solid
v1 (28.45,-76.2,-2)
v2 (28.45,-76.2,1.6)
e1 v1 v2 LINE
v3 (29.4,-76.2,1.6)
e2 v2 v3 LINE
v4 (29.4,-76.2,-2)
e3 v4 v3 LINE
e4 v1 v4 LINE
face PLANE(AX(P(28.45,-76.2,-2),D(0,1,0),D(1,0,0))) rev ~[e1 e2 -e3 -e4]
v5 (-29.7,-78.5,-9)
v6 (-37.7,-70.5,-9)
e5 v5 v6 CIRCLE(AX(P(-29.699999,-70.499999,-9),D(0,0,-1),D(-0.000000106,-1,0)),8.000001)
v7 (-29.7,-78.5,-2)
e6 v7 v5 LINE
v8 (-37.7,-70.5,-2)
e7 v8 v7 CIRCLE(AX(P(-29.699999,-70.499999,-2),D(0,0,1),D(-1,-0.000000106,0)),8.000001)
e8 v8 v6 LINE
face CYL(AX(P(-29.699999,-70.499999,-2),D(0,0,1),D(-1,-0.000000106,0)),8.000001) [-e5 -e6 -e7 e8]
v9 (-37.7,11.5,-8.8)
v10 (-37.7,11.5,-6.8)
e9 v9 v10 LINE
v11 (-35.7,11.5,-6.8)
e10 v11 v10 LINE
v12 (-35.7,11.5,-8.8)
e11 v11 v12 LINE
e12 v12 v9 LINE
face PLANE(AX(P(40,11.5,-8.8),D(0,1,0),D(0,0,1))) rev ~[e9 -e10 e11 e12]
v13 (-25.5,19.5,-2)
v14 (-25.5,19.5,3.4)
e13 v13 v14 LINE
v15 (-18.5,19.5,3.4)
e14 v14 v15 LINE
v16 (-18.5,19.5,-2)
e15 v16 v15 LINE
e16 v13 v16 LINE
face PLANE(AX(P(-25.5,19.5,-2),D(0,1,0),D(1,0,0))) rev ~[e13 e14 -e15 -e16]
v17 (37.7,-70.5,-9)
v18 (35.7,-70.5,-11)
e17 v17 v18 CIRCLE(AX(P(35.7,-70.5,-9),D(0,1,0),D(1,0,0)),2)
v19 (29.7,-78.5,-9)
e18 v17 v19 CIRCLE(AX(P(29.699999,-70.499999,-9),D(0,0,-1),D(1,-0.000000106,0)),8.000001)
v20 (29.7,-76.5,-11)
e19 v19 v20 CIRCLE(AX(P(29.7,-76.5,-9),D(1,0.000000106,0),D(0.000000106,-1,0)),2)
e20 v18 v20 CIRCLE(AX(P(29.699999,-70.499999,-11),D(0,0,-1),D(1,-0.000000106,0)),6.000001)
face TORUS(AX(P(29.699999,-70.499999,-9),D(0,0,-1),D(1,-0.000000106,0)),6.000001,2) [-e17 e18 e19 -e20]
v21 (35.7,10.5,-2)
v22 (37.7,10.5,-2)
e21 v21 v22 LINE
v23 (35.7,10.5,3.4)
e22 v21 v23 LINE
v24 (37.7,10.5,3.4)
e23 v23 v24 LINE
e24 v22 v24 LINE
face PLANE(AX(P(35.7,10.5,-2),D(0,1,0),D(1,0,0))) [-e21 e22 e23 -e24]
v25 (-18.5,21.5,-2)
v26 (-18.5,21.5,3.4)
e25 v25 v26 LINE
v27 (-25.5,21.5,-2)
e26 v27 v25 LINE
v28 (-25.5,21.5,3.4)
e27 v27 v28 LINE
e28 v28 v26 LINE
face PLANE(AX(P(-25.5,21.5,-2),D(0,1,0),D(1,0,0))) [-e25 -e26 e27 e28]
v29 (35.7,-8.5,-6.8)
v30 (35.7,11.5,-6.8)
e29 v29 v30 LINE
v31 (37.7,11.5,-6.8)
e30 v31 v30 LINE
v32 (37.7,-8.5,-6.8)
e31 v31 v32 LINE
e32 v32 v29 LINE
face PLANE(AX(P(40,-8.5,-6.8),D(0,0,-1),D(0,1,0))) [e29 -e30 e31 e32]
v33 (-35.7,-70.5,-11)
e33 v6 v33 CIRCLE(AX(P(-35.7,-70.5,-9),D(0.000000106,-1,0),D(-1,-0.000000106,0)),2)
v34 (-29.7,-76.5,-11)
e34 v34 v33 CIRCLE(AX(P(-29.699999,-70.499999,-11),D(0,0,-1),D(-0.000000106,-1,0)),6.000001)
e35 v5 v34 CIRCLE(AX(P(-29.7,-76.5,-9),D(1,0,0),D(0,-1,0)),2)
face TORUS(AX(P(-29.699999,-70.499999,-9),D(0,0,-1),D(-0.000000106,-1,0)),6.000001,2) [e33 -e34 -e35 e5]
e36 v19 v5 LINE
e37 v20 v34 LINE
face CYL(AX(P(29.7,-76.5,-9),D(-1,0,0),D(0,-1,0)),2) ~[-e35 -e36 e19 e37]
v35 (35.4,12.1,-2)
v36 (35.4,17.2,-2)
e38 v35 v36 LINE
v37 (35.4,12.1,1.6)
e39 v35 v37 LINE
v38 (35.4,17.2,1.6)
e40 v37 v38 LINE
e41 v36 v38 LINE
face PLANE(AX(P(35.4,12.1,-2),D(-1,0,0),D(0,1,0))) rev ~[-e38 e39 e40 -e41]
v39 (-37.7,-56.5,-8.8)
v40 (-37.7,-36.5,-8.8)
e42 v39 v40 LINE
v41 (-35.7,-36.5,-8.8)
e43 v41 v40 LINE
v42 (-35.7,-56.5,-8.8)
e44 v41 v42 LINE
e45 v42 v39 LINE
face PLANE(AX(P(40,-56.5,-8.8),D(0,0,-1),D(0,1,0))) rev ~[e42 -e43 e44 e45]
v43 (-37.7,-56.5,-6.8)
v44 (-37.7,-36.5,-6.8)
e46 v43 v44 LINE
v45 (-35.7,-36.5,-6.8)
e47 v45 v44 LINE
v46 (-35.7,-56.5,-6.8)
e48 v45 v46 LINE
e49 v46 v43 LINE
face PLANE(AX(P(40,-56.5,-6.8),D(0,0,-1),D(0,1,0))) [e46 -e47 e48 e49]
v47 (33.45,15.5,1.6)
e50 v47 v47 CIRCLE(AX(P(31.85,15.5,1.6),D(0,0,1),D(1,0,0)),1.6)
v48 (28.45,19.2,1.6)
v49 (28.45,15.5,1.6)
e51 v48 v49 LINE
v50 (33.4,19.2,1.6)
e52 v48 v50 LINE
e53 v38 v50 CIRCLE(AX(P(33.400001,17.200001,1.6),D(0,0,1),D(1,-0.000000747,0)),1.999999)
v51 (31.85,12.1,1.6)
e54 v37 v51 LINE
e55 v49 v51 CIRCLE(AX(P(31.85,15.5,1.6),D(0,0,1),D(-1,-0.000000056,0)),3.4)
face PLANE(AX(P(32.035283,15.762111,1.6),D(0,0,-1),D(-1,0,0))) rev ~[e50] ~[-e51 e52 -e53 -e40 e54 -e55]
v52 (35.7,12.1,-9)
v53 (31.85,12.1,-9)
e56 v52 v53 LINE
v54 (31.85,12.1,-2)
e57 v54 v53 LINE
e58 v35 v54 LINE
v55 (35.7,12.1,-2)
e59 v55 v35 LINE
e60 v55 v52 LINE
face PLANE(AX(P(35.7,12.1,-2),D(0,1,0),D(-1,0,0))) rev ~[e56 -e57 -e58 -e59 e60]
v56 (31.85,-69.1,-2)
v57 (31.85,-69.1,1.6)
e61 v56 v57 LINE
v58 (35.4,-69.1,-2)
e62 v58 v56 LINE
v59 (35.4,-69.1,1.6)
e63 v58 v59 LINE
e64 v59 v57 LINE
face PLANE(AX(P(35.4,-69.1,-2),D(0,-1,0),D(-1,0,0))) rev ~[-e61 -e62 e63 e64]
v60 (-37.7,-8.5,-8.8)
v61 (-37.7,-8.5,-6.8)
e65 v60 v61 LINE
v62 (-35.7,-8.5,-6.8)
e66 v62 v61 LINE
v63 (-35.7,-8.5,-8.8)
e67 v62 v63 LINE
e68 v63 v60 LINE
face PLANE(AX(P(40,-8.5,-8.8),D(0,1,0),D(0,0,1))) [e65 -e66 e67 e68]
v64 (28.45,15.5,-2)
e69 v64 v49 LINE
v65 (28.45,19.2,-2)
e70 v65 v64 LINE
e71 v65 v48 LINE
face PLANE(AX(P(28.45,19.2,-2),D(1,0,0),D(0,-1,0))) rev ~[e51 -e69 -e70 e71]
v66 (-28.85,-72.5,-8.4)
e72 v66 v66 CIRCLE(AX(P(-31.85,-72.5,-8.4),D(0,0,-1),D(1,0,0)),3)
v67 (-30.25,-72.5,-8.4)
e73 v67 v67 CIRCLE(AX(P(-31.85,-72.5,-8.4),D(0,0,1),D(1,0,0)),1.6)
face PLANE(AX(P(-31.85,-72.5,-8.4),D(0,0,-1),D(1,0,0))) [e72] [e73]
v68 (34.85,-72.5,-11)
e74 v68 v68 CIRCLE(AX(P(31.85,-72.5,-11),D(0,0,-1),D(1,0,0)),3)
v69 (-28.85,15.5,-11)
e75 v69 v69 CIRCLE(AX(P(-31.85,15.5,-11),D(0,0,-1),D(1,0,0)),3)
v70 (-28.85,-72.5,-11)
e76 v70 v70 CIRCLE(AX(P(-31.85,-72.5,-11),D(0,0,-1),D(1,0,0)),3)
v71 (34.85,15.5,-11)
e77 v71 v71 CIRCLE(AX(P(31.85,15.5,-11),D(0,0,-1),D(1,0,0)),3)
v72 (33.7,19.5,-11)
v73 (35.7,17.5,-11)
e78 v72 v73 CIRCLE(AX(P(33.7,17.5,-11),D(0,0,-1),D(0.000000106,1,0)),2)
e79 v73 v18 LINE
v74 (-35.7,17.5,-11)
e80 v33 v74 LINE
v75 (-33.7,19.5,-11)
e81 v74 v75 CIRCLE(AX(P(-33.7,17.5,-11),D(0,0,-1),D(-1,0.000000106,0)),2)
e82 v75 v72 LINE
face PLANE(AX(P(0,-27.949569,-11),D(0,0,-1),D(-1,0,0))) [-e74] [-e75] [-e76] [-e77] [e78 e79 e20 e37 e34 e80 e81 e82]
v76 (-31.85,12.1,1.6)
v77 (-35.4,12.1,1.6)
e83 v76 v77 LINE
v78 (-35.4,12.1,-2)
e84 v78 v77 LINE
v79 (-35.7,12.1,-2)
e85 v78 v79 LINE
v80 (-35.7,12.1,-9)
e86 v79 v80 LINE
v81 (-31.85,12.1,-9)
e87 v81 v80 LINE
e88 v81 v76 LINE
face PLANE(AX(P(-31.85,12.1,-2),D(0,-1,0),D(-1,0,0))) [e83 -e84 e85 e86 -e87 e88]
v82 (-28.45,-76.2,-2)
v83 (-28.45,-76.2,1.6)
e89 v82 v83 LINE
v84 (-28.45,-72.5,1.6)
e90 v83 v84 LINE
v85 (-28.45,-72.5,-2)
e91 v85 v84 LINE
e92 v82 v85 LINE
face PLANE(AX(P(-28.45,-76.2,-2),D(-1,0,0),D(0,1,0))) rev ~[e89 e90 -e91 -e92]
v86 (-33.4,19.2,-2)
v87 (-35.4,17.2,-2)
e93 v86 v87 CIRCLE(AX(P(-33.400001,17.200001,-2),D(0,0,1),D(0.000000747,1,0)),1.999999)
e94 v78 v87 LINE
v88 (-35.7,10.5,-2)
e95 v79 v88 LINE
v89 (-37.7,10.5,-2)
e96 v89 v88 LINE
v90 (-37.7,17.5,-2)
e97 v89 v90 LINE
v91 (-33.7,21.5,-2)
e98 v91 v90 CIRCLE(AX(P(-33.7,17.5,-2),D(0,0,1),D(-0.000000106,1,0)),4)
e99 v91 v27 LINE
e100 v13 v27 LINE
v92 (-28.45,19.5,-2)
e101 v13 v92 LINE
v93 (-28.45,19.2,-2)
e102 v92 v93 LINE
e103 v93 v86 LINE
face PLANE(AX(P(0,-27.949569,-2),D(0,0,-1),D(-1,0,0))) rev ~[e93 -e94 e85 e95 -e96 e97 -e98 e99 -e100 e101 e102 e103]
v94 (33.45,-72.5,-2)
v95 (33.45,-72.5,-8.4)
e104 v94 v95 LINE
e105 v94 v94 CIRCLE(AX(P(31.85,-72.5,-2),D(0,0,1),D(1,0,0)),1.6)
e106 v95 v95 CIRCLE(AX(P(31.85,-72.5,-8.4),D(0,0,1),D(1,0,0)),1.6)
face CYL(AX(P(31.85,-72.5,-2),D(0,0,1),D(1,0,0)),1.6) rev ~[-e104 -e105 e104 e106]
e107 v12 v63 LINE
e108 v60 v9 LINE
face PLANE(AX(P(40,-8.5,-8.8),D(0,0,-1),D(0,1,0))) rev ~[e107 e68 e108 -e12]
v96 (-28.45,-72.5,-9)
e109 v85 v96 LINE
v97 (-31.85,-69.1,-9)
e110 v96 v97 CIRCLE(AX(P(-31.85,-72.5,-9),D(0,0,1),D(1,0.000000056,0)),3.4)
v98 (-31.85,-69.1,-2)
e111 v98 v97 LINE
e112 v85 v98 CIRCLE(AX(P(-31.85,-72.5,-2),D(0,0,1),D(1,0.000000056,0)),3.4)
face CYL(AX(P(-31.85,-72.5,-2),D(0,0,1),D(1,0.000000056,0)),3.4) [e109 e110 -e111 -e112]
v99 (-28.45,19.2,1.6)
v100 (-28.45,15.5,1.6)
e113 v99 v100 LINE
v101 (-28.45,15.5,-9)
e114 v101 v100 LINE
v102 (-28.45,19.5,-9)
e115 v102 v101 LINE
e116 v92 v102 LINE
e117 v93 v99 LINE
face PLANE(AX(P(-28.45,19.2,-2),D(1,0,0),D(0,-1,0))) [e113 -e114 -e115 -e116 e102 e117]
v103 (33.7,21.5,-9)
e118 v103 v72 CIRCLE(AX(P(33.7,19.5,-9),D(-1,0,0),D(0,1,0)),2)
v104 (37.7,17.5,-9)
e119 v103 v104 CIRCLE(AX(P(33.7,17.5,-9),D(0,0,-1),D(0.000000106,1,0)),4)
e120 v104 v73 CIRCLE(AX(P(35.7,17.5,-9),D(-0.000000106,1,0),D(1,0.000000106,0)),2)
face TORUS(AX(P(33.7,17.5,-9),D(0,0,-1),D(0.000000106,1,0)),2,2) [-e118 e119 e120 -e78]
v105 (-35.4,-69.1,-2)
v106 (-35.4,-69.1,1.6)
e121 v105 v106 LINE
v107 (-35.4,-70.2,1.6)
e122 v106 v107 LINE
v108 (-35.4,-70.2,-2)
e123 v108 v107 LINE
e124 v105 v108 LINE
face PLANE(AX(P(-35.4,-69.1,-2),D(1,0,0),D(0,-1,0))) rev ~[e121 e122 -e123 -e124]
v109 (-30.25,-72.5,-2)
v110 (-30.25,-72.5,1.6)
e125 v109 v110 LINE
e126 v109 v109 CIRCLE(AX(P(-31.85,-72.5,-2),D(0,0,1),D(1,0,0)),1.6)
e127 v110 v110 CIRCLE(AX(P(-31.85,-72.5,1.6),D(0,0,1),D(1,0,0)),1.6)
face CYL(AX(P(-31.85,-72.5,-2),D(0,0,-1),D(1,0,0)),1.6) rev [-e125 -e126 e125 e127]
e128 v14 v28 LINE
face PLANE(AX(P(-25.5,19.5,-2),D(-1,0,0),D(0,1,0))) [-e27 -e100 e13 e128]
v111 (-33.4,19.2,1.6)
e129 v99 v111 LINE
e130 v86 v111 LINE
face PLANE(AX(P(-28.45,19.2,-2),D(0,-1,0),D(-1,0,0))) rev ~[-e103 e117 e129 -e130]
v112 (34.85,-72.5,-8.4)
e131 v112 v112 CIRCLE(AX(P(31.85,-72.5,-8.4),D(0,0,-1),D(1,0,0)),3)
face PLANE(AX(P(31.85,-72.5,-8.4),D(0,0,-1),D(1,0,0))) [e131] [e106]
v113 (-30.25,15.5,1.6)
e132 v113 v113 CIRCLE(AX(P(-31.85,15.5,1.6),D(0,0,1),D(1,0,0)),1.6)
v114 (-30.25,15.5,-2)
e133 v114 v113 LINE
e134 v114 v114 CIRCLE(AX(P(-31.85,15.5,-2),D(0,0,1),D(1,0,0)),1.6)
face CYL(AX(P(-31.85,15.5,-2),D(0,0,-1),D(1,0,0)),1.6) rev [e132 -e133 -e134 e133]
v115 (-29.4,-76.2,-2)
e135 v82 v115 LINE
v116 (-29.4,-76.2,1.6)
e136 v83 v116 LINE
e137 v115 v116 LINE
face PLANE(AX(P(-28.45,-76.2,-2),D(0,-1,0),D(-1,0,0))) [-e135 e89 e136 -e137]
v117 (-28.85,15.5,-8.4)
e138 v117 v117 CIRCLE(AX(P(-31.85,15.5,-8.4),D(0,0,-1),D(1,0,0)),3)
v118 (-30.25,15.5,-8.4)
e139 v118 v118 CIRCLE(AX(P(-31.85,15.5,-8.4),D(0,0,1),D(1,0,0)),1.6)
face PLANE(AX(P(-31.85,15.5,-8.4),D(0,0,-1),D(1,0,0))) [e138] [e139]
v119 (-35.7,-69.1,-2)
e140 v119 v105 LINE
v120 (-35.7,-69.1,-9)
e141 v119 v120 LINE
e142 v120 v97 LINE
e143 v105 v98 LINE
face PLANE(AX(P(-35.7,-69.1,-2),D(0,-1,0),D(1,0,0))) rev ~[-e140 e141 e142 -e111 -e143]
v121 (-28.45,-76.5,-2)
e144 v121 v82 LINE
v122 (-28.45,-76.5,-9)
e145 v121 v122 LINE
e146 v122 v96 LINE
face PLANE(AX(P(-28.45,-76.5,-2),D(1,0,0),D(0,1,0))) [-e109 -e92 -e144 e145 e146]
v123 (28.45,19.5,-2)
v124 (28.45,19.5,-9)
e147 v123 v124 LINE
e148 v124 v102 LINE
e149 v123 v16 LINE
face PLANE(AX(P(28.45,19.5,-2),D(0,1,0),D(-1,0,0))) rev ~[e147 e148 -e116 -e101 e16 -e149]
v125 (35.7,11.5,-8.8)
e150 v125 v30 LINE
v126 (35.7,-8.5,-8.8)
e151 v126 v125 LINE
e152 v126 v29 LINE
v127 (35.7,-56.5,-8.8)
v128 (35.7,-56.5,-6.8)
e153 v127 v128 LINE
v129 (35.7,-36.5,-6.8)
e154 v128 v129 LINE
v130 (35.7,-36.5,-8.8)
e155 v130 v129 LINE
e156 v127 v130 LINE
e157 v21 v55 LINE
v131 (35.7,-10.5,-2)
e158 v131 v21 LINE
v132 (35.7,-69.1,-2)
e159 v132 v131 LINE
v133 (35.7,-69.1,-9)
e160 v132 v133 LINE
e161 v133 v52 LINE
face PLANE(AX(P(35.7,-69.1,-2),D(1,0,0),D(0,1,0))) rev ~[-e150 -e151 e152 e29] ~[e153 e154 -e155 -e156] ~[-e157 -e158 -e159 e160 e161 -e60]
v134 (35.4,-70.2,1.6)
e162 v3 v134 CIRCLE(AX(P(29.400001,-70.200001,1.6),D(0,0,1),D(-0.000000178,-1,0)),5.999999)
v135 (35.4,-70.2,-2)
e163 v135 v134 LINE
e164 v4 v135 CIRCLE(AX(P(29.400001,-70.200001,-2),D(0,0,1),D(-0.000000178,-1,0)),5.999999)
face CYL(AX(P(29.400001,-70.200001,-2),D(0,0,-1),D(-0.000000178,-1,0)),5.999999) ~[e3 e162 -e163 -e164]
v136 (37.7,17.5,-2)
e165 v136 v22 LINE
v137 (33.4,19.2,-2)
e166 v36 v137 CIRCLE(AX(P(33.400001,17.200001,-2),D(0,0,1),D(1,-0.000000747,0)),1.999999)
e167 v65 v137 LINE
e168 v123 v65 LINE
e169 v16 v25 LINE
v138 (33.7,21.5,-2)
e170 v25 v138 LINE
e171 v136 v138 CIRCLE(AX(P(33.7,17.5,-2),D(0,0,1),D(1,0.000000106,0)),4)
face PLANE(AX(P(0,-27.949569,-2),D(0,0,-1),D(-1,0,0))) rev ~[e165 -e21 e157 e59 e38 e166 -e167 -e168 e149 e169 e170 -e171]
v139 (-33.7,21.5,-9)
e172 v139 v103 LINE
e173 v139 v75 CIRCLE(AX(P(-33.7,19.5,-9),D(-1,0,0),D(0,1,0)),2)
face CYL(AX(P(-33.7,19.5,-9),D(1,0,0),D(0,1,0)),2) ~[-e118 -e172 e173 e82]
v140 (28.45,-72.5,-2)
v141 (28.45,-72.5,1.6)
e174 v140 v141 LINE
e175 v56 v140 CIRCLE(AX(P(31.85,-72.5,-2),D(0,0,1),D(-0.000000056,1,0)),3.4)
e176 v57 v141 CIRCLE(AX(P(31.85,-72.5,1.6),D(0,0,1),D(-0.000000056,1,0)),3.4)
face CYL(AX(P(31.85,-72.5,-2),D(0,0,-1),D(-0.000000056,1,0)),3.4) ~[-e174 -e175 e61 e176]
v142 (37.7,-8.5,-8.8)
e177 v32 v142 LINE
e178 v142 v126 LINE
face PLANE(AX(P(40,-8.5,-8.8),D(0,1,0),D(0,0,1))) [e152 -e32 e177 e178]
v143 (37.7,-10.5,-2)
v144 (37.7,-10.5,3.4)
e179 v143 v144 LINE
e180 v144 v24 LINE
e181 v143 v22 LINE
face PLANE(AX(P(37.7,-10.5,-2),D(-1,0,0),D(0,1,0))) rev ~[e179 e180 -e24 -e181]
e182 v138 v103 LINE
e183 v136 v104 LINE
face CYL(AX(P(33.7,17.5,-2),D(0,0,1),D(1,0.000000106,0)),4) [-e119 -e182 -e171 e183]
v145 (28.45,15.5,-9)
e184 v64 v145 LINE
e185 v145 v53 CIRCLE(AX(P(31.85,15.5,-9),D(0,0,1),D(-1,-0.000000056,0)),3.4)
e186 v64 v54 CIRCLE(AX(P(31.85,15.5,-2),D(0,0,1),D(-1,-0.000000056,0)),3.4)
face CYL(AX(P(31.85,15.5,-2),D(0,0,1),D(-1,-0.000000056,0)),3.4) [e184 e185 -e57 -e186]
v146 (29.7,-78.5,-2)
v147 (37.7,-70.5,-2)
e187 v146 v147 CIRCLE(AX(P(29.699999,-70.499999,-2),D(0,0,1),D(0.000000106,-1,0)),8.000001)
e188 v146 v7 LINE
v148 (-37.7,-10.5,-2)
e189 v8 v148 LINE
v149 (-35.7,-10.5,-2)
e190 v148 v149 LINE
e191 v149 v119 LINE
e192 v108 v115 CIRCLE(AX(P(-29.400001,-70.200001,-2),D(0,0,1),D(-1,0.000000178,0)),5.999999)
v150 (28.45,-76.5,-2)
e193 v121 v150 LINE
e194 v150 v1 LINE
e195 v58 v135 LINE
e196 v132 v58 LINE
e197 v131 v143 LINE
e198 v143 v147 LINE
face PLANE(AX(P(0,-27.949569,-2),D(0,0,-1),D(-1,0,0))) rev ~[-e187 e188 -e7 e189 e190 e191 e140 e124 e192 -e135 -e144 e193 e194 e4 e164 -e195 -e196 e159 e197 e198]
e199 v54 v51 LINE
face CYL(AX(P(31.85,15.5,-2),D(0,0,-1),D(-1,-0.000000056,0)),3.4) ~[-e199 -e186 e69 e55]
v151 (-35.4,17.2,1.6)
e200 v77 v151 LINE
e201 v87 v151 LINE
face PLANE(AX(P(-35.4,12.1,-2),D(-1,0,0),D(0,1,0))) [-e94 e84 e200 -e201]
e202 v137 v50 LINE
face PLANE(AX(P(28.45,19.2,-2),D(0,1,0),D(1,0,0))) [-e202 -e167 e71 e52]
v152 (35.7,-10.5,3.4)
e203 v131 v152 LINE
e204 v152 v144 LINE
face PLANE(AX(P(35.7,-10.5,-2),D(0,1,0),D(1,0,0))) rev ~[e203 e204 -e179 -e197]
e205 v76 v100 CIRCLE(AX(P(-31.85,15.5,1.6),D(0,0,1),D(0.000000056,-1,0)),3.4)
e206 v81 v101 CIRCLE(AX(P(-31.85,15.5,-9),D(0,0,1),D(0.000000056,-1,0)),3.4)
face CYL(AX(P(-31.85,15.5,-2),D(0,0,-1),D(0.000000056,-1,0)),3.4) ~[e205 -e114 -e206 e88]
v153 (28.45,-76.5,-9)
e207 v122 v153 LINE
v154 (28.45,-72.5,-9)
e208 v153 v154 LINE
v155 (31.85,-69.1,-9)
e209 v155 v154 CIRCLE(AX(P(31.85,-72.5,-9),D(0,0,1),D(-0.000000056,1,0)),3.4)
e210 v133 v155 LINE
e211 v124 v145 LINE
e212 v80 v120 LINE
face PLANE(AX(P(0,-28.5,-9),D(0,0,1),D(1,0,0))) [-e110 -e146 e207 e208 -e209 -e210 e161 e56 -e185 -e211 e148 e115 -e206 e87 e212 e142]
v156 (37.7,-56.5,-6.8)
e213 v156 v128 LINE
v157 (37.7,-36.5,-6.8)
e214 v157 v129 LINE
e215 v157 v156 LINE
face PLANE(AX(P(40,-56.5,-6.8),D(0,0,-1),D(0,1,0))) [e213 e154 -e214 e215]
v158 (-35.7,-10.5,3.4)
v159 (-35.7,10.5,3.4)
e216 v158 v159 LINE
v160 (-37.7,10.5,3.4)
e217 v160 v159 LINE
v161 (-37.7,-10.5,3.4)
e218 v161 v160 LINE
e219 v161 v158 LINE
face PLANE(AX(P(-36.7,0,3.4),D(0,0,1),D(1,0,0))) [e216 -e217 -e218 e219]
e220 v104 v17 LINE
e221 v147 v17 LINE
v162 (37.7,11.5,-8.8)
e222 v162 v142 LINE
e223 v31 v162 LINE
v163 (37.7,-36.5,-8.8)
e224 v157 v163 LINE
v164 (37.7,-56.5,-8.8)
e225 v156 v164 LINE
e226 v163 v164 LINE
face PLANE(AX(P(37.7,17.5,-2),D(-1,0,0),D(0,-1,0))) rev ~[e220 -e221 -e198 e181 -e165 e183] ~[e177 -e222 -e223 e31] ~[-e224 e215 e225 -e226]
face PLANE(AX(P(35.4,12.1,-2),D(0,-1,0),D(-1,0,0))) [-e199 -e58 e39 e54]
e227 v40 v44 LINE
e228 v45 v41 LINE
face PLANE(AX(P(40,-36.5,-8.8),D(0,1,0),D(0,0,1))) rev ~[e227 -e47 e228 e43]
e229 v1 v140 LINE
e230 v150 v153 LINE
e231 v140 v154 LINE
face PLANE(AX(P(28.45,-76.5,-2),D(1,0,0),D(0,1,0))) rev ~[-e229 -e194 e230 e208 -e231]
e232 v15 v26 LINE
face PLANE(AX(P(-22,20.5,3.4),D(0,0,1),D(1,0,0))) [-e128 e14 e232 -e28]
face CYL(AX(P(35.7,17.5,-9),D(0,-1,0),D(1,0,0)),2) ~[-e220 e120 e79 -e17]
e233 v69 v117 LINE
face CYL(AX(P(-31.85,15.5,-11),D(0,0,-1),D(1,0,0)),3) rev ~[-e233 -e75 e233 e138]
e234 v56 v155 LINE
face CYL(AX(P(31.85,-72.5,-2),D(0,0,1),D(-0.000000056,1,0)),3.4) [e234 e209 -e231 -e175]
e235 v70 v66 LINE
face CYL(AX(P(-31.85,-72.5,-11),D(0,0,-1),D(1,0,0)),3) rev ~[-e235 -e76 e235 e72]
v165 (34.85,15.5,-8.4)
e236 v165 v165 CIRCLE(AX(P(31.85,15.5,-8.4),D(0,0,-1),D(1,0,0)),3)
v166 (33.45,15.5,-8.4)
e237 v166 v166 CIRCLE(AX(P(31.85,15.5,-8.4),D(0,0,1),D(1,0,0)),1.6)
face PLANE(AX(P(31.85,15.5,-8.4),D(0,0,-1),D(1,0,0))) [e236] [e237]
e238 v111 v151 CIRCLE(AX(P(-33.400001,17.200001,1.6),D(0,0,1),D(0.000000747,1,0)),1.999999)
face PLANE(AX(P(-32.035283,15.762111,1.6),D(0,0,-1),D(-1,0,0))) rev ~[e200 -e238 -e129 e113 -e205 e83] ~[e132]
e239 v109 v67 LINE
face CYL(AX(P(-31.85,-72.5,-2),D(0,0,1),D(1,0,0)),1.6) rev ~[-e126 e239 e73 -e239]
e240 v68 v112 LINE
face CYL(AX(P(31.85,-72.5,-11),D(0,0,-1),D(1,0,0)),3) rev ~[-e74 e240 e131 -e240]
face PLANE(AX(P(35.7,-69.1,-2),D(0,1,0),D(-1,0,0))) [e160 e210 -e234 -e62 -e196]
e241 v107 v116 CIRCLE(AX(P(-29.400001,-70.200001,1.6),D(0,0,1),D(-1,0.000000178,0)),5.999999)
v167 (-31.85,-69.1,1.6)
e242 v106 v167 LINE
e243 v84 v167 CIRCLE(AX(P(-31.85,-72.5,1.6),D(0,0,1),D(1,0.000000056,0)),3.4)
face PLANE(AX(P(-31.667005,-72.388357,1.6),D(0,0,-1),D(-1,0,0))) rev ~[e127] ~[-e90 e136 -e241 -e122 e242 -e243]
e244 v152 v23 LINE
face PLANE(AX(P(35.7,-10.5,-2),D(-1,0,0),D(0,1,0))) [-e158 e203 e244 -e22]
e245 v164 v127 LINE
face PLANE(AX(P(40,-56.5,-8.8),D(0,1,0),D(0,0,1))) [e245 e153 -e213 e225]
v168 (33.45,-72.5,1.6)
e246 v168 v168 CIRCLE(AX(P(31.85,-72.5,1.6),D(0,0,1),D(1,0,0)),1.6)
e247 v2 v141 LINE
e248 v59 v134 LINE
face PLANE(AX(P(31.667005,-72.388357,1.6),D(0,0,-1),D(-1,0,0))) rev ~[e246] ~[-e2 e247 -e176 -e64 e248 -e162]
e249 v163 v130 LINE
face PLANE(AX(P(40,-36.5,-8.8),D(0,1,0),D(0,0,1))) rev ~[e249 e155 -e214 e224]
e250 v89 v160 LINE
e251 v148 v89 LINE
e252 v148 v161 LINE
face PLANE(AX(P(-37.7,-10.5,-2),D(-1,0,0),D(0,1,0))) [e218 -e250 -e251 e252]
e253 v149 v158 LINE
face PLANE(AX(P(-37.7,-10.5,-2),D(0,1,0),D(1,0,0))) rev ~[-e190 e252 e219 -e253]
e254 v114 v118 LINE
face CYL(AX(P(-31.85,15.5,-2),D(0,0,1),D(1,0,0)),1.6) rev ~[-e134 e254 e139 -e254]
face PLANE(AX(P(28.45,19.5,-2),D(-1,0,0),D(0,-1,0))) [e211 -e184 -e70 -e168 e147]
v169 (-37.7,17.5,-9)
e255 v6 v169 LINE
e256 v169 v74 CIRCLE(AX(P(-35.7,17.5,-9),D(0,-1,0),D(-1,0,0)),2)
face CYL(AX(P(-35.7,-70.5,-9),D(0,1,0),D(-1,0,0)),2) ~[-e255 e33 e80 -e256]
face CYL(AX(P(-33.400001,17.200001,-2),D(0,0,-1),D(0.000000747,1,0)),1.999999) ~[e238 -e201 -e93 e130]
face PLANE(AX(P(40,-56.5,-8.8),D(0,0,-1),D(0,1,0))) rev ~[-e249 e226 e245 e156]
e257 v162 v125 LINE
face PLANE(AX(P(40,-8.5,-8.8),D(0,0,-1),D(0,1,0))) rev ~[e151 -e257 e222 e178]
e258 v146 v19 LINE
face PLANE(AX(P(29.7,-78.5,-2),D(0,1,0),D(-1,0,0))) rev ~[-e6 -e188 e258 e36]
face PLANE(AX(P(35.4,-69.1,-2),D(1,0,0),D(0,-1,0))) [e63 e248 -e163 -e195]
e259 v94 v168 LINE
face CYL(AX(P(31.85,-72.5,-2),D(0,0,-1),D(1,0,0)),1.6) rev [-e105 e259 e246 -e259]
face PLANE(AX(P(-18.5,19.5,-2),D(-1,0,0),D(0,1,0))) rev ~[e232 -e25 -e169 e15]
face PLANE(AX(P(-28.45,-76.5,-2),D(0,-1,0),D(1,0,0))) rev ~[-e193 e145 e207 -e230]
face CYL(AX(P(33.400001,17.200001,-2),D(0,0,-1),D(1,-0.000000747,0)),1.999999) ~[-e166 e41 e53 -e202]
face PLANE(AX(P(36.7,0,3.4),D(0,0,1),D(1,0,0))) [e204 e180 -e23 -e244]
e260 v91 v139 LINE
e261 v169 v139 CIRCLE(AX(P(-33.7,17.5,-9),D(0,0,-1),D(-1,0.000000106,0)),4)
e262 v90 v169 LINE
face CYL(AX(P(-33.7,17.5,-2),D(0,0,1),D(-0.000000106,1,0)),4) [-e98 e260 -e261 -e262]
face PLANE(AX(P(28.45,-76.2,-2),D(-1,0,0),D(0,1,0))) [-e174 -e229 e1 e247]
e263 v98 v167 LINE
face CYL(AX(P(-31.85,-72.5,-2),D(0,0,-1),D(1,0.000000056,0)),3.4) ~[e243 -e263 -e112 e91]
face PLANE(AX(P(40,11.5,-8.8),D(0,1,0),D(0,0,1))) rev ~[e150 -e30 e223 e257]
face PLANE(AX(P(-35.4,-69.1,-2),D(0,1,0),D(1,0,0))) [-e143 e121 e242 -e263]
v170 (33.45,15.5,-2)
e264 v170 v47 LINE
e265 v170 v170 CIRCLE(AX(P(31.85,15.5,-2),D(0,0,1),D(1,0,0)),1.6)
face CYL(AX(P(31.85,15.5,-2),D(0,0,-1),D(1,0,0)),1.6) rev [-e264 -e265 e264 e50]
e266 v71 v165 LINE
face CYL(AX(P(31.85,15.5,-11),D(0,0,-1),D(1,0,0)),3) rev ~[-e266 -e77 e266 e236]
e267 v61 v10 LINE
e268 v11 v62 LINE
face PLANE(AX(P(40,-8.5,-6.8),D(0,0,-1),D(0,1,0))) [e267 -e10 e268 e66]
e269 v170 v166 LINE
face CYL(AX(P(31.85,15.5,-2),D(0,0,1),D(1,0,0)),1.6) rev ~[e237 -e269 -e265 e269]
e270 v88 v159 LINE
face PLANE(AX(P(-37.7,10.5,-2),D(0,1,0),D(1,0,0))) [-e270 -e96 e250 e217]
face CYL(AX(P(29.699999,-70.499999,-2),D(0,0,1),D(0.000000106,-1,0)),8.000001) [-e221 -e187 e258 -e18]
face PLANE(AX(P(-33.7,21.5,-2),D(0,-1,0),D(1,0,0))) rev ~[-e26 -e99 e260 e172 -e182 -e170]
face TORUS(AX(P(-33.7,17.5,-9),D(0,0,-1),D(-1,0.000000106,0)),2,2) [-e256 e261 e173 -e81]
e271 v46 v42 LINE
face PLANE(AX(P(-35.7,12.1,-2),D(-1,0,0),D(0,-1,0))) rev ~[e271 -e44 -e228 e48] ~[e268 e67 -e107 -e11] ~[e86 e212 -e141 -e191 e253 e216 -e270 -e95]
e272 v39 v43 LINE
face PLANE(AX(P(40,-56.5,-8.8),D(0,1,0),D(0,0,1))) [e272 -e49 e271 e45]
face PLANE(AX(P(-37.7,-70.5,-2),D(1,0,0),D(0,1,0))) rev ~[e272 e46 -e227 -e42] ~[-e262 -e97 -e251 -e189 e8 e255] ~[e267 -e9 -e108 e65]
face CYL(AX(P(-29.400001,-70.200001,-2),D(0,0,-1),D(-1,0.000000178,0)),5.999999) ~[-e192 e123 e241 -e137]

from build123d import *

# Parameters (mm, degrees)
PAD014_DEPTH    = 9
FILLET012_R     = 2
SKETCH024_R     = 3
POCKET009_DEPTH = 2.6
SKETCH025_R     = 1.6
POCKET010_DEPTH = 7
SKETCH026_R     = 1.6
PAD015_DEPTH    = 3.6
SKETCH027_W     = 2
SKETCH027_H     = 21
SKETCH027_W_2   = 7
SKETCH027_H_2   = 2
PAD016_DEPTH    = 5.4
SKETCH028_W     = 20
SKETCH028_H     = 2
POCKET011_DEPTH = 77.701


with BuildPart() as part:
    # Sketch023 → Pad014 (new body)
    with BuildSketch(Plane.XY):
        with BuildLine():
            Line((-33.7, 21.5), (33.7, 21.5))
            ThreePointArc((37.7, 17.5), (36.528427, 20.328427), (33.7, 21.5))
            Line((37.7, 17.5), (37.7, -70.5))
            ThreePointArc((29.7, -78.5), (35.356854, -76.156854), (37.7, -70.5))
            Line((29.7, -78.5), (-29.7, -78.5))
            ThreePointArc((-37.7, -70.5), (-35.356854, -76.156854), (-29.7, -78.5))
            Line((-37.7, -70.5), (-37.7, 17.5))
            ThreePointArc((-33.7, 21.5), (-36.528427, 20.328427), (-37.7, 17.5))
        make_face()
    extrude(amount=-PAD014_DEPTH)

    # Fillet012
    fillet012_edges = [part.edges().sort_by_distance(p)[0] for p in [
        (0, 21.5, -9),
    ]]
    fillet(fillet012_edges, radius=FILLET012_R)

    # Sketch024 (on Face8 of Fillet012) → Pocket009 (cut)
    with BuildSketch(Plane(origin=(0, 0, -9), x_dir=(1, 0, 0), z_dir=(0, 0, -1))):
        with Locations((-31.85, 72.5)):
            Circle(SKETCH024_R)
        with Locations((31.85, 72.5)):
            Circle(SKETCH024_R)
        with Locations((-31.85, -15.5)):
            Circle(SKETCH024_R)
        with Locations((31.85, -15.5)):
            Circle(SKETCH024_R)
    extrude(amount=-POCKET009_DEPTH, mode=Mode.SUBTRACT)

    # Sketch025 (on Face4 of Pocket009) → Pocket010 (cut)
    with BuildSketch(Plane.XY):
        with Locations((-31.85, 15.5)):
            Circle(SKETCH025_R)
        with Locations((31.85, 15.5)):
            Circle(SKETCH025_R)
        with Locations((31.85, -72.5)):
            Circle(SKETCH025_R)
        with Locations((-31.85, -72.5)):
            Circle(SKETCH025_R)
        with BuildLine():
            Line((-31.85, 12.1), (-35.7, 12.1))
            Line((-35.7, 12.1), (-35.7, -69.1))
            Line((-35.7, -69.1), (-31.85, -69.1))
            ThreePointArc((-28.45, -72.5), (-29.445837, -70.095837), (-31.85, -69.1))
            Line((-28.45, -76.5), (-28.45, -72.5))
            Line((-28.45, -76.5), (28.45, -76.5))
            Line((28.45, -76.5), (28.45, -72.5))
            ThreePointArc((31.85, -69.1), (29.445837, -70.095837), (28.45, -72.5))
            Line((35.7, -69.1), (31.85, -69.1))
            Line((35.7, -69.1), (35.7, 12.1))
            Line((35.7, 12.1), (31.85, 12.1))
            ThreePointArc((28.45, 15.5), (29.445837, 13.095837), (31.85, 12.1))
            Line((28.45, 19.5), (28.45, 15.5))
            Line((28.45, 19.5), (-28.45, 19.5))
            Line((-28.45, 19.5), (-28.45, 15.5))
            ThreePointArc((-31.85, 12.1), (-29.445837, 13.095837), (-28.45, 15.5))
        make_face()
    extrude(amount=-POCKET010_DEPTH, mode=Mode.SUBTRACT)

    # Sketch026 (on Face4 of Pocket010) → Pad015 (join)
    with BuildSketch(Plane.XY):
        with BuildLine():
            Line((-31.85, 12.1), (-35.4, 12.1))
            Line((-35.4, 12.1), (-35.4, 17.2))
            ThreePointArc((-33.4, 19.2), (-34.814214, 18.614214), (-35.4, 17.2))
            Line((-28.45, 19.2), (-33.4, 19.2))
            Line((-28.45, 19.2), (-28.45, 15.5))
            ThreePointArc((-31.85, 12.1), (-29.445837, 13.095837), (-28.45, 15.5))
        make_face()
        with Locations((-31.85, 15.5)):
            Circle(SKETCH026_R, mode=Mode.SUBTRACT)
        with BuildLine():
            Line((35.4, 12.1), (31.85, 12.1))
            ThreePointArc((28.45, 15.5), (29.445837, 13.095837), (31.85, 12.1))
            Line((28.45, 19.2), (28.45, 15.5))
            Line((28.45, 19.2), (33.4, 19.2))
            ThreePointArc((35.4, 17.2), (34.814214, 18.614214), (33.4, 19.2))
            Line((35.4, 12.1), (35.4, 17.2))
        make_face()
        with Locations((31.85, 15.5)):
            Circle(SKETCH026_R, mode=Mode.SUBTRACT)
        with BuildLine():
            Line((28.45, -76.2), (28.45, -72.5))
            ThreePointArc((31.85, -69.1), (29.445837, -70.095837), (28.45, -72.5))
            Line((35.4, -69.1), (31.85, -69.1))
            Line((35.4, -69.1), (35.4, -70.2))
            ThreePointArc((29.4, -76.2), (33.642641, -74.442641), (35.4, -70.2))
            Line((28.45, -76.2), (29.4, -76.2))
        make_face()
        with Locations((31.85, -72.5)):
            Circle(SKETCH026_R, mode=Mode.SUBTRACT)
        with BuildLine():
            Line((-35.4, -69.1), (-31.85, -69.1))
            ThreePointArc((-28.45, -72.5), (-29.445837, -70.095837), (-31.85, -69.1))
            Line((-28.45, -76.2), (-28.45, -72.5))
            Line((-28.45, -76.2), (-29.4, -76.2))
            ThreePointArc((-35.4, -70.2), (-33.642641, -74.442641), (-29.4, -76.2))
            Line((-35.4, -69.1), (-35.4, -70.2))
        make_face()
        with Locations((-31.85, -72.5)):
            Circle(SKETCH026_R, mode=Mode.SUBTRACT)
    extrude(amount=PAD015_DEPTH)

    # Sketch027 (on Face4 of Pad015) → Pad016 (join)
    with BuildSketch(Plane.XY):
        with Locations((-36.7, 0)):
            Rectangle(SKETCH027_W, SKETCH027_H)
        with Locations((36.7, 0)):
            Rectangle(SKETCH027_W, SKETCH027_H)
        with Locations((-22, 20.5)):
            Rectangle(SKETCH027_W_2, SKETCH027_H_2)
    extrude(amount=PAD016_DEPTH)

    # Sketch028 → Pocket011 (cut, through all)
    with BuildSketch(Plane.YZ.offset(40)):
        with Locations((-46.5, -5.8)):
            Rectangle(SKETCH028_W, SKETCH028_H)
        with Locations((1.5, -5.8)):
            Rectangle(SKETCH028_W, SKETCH028_H)
    extrude(amount=-POCKET011_DEPTH, mode=Mode.SUBTRACT)


with BuildPart() as part_1:
    # Body006 placement: moved
    add(part.part.moved(Location((0, 0, -2))))


solid = part_1.part
